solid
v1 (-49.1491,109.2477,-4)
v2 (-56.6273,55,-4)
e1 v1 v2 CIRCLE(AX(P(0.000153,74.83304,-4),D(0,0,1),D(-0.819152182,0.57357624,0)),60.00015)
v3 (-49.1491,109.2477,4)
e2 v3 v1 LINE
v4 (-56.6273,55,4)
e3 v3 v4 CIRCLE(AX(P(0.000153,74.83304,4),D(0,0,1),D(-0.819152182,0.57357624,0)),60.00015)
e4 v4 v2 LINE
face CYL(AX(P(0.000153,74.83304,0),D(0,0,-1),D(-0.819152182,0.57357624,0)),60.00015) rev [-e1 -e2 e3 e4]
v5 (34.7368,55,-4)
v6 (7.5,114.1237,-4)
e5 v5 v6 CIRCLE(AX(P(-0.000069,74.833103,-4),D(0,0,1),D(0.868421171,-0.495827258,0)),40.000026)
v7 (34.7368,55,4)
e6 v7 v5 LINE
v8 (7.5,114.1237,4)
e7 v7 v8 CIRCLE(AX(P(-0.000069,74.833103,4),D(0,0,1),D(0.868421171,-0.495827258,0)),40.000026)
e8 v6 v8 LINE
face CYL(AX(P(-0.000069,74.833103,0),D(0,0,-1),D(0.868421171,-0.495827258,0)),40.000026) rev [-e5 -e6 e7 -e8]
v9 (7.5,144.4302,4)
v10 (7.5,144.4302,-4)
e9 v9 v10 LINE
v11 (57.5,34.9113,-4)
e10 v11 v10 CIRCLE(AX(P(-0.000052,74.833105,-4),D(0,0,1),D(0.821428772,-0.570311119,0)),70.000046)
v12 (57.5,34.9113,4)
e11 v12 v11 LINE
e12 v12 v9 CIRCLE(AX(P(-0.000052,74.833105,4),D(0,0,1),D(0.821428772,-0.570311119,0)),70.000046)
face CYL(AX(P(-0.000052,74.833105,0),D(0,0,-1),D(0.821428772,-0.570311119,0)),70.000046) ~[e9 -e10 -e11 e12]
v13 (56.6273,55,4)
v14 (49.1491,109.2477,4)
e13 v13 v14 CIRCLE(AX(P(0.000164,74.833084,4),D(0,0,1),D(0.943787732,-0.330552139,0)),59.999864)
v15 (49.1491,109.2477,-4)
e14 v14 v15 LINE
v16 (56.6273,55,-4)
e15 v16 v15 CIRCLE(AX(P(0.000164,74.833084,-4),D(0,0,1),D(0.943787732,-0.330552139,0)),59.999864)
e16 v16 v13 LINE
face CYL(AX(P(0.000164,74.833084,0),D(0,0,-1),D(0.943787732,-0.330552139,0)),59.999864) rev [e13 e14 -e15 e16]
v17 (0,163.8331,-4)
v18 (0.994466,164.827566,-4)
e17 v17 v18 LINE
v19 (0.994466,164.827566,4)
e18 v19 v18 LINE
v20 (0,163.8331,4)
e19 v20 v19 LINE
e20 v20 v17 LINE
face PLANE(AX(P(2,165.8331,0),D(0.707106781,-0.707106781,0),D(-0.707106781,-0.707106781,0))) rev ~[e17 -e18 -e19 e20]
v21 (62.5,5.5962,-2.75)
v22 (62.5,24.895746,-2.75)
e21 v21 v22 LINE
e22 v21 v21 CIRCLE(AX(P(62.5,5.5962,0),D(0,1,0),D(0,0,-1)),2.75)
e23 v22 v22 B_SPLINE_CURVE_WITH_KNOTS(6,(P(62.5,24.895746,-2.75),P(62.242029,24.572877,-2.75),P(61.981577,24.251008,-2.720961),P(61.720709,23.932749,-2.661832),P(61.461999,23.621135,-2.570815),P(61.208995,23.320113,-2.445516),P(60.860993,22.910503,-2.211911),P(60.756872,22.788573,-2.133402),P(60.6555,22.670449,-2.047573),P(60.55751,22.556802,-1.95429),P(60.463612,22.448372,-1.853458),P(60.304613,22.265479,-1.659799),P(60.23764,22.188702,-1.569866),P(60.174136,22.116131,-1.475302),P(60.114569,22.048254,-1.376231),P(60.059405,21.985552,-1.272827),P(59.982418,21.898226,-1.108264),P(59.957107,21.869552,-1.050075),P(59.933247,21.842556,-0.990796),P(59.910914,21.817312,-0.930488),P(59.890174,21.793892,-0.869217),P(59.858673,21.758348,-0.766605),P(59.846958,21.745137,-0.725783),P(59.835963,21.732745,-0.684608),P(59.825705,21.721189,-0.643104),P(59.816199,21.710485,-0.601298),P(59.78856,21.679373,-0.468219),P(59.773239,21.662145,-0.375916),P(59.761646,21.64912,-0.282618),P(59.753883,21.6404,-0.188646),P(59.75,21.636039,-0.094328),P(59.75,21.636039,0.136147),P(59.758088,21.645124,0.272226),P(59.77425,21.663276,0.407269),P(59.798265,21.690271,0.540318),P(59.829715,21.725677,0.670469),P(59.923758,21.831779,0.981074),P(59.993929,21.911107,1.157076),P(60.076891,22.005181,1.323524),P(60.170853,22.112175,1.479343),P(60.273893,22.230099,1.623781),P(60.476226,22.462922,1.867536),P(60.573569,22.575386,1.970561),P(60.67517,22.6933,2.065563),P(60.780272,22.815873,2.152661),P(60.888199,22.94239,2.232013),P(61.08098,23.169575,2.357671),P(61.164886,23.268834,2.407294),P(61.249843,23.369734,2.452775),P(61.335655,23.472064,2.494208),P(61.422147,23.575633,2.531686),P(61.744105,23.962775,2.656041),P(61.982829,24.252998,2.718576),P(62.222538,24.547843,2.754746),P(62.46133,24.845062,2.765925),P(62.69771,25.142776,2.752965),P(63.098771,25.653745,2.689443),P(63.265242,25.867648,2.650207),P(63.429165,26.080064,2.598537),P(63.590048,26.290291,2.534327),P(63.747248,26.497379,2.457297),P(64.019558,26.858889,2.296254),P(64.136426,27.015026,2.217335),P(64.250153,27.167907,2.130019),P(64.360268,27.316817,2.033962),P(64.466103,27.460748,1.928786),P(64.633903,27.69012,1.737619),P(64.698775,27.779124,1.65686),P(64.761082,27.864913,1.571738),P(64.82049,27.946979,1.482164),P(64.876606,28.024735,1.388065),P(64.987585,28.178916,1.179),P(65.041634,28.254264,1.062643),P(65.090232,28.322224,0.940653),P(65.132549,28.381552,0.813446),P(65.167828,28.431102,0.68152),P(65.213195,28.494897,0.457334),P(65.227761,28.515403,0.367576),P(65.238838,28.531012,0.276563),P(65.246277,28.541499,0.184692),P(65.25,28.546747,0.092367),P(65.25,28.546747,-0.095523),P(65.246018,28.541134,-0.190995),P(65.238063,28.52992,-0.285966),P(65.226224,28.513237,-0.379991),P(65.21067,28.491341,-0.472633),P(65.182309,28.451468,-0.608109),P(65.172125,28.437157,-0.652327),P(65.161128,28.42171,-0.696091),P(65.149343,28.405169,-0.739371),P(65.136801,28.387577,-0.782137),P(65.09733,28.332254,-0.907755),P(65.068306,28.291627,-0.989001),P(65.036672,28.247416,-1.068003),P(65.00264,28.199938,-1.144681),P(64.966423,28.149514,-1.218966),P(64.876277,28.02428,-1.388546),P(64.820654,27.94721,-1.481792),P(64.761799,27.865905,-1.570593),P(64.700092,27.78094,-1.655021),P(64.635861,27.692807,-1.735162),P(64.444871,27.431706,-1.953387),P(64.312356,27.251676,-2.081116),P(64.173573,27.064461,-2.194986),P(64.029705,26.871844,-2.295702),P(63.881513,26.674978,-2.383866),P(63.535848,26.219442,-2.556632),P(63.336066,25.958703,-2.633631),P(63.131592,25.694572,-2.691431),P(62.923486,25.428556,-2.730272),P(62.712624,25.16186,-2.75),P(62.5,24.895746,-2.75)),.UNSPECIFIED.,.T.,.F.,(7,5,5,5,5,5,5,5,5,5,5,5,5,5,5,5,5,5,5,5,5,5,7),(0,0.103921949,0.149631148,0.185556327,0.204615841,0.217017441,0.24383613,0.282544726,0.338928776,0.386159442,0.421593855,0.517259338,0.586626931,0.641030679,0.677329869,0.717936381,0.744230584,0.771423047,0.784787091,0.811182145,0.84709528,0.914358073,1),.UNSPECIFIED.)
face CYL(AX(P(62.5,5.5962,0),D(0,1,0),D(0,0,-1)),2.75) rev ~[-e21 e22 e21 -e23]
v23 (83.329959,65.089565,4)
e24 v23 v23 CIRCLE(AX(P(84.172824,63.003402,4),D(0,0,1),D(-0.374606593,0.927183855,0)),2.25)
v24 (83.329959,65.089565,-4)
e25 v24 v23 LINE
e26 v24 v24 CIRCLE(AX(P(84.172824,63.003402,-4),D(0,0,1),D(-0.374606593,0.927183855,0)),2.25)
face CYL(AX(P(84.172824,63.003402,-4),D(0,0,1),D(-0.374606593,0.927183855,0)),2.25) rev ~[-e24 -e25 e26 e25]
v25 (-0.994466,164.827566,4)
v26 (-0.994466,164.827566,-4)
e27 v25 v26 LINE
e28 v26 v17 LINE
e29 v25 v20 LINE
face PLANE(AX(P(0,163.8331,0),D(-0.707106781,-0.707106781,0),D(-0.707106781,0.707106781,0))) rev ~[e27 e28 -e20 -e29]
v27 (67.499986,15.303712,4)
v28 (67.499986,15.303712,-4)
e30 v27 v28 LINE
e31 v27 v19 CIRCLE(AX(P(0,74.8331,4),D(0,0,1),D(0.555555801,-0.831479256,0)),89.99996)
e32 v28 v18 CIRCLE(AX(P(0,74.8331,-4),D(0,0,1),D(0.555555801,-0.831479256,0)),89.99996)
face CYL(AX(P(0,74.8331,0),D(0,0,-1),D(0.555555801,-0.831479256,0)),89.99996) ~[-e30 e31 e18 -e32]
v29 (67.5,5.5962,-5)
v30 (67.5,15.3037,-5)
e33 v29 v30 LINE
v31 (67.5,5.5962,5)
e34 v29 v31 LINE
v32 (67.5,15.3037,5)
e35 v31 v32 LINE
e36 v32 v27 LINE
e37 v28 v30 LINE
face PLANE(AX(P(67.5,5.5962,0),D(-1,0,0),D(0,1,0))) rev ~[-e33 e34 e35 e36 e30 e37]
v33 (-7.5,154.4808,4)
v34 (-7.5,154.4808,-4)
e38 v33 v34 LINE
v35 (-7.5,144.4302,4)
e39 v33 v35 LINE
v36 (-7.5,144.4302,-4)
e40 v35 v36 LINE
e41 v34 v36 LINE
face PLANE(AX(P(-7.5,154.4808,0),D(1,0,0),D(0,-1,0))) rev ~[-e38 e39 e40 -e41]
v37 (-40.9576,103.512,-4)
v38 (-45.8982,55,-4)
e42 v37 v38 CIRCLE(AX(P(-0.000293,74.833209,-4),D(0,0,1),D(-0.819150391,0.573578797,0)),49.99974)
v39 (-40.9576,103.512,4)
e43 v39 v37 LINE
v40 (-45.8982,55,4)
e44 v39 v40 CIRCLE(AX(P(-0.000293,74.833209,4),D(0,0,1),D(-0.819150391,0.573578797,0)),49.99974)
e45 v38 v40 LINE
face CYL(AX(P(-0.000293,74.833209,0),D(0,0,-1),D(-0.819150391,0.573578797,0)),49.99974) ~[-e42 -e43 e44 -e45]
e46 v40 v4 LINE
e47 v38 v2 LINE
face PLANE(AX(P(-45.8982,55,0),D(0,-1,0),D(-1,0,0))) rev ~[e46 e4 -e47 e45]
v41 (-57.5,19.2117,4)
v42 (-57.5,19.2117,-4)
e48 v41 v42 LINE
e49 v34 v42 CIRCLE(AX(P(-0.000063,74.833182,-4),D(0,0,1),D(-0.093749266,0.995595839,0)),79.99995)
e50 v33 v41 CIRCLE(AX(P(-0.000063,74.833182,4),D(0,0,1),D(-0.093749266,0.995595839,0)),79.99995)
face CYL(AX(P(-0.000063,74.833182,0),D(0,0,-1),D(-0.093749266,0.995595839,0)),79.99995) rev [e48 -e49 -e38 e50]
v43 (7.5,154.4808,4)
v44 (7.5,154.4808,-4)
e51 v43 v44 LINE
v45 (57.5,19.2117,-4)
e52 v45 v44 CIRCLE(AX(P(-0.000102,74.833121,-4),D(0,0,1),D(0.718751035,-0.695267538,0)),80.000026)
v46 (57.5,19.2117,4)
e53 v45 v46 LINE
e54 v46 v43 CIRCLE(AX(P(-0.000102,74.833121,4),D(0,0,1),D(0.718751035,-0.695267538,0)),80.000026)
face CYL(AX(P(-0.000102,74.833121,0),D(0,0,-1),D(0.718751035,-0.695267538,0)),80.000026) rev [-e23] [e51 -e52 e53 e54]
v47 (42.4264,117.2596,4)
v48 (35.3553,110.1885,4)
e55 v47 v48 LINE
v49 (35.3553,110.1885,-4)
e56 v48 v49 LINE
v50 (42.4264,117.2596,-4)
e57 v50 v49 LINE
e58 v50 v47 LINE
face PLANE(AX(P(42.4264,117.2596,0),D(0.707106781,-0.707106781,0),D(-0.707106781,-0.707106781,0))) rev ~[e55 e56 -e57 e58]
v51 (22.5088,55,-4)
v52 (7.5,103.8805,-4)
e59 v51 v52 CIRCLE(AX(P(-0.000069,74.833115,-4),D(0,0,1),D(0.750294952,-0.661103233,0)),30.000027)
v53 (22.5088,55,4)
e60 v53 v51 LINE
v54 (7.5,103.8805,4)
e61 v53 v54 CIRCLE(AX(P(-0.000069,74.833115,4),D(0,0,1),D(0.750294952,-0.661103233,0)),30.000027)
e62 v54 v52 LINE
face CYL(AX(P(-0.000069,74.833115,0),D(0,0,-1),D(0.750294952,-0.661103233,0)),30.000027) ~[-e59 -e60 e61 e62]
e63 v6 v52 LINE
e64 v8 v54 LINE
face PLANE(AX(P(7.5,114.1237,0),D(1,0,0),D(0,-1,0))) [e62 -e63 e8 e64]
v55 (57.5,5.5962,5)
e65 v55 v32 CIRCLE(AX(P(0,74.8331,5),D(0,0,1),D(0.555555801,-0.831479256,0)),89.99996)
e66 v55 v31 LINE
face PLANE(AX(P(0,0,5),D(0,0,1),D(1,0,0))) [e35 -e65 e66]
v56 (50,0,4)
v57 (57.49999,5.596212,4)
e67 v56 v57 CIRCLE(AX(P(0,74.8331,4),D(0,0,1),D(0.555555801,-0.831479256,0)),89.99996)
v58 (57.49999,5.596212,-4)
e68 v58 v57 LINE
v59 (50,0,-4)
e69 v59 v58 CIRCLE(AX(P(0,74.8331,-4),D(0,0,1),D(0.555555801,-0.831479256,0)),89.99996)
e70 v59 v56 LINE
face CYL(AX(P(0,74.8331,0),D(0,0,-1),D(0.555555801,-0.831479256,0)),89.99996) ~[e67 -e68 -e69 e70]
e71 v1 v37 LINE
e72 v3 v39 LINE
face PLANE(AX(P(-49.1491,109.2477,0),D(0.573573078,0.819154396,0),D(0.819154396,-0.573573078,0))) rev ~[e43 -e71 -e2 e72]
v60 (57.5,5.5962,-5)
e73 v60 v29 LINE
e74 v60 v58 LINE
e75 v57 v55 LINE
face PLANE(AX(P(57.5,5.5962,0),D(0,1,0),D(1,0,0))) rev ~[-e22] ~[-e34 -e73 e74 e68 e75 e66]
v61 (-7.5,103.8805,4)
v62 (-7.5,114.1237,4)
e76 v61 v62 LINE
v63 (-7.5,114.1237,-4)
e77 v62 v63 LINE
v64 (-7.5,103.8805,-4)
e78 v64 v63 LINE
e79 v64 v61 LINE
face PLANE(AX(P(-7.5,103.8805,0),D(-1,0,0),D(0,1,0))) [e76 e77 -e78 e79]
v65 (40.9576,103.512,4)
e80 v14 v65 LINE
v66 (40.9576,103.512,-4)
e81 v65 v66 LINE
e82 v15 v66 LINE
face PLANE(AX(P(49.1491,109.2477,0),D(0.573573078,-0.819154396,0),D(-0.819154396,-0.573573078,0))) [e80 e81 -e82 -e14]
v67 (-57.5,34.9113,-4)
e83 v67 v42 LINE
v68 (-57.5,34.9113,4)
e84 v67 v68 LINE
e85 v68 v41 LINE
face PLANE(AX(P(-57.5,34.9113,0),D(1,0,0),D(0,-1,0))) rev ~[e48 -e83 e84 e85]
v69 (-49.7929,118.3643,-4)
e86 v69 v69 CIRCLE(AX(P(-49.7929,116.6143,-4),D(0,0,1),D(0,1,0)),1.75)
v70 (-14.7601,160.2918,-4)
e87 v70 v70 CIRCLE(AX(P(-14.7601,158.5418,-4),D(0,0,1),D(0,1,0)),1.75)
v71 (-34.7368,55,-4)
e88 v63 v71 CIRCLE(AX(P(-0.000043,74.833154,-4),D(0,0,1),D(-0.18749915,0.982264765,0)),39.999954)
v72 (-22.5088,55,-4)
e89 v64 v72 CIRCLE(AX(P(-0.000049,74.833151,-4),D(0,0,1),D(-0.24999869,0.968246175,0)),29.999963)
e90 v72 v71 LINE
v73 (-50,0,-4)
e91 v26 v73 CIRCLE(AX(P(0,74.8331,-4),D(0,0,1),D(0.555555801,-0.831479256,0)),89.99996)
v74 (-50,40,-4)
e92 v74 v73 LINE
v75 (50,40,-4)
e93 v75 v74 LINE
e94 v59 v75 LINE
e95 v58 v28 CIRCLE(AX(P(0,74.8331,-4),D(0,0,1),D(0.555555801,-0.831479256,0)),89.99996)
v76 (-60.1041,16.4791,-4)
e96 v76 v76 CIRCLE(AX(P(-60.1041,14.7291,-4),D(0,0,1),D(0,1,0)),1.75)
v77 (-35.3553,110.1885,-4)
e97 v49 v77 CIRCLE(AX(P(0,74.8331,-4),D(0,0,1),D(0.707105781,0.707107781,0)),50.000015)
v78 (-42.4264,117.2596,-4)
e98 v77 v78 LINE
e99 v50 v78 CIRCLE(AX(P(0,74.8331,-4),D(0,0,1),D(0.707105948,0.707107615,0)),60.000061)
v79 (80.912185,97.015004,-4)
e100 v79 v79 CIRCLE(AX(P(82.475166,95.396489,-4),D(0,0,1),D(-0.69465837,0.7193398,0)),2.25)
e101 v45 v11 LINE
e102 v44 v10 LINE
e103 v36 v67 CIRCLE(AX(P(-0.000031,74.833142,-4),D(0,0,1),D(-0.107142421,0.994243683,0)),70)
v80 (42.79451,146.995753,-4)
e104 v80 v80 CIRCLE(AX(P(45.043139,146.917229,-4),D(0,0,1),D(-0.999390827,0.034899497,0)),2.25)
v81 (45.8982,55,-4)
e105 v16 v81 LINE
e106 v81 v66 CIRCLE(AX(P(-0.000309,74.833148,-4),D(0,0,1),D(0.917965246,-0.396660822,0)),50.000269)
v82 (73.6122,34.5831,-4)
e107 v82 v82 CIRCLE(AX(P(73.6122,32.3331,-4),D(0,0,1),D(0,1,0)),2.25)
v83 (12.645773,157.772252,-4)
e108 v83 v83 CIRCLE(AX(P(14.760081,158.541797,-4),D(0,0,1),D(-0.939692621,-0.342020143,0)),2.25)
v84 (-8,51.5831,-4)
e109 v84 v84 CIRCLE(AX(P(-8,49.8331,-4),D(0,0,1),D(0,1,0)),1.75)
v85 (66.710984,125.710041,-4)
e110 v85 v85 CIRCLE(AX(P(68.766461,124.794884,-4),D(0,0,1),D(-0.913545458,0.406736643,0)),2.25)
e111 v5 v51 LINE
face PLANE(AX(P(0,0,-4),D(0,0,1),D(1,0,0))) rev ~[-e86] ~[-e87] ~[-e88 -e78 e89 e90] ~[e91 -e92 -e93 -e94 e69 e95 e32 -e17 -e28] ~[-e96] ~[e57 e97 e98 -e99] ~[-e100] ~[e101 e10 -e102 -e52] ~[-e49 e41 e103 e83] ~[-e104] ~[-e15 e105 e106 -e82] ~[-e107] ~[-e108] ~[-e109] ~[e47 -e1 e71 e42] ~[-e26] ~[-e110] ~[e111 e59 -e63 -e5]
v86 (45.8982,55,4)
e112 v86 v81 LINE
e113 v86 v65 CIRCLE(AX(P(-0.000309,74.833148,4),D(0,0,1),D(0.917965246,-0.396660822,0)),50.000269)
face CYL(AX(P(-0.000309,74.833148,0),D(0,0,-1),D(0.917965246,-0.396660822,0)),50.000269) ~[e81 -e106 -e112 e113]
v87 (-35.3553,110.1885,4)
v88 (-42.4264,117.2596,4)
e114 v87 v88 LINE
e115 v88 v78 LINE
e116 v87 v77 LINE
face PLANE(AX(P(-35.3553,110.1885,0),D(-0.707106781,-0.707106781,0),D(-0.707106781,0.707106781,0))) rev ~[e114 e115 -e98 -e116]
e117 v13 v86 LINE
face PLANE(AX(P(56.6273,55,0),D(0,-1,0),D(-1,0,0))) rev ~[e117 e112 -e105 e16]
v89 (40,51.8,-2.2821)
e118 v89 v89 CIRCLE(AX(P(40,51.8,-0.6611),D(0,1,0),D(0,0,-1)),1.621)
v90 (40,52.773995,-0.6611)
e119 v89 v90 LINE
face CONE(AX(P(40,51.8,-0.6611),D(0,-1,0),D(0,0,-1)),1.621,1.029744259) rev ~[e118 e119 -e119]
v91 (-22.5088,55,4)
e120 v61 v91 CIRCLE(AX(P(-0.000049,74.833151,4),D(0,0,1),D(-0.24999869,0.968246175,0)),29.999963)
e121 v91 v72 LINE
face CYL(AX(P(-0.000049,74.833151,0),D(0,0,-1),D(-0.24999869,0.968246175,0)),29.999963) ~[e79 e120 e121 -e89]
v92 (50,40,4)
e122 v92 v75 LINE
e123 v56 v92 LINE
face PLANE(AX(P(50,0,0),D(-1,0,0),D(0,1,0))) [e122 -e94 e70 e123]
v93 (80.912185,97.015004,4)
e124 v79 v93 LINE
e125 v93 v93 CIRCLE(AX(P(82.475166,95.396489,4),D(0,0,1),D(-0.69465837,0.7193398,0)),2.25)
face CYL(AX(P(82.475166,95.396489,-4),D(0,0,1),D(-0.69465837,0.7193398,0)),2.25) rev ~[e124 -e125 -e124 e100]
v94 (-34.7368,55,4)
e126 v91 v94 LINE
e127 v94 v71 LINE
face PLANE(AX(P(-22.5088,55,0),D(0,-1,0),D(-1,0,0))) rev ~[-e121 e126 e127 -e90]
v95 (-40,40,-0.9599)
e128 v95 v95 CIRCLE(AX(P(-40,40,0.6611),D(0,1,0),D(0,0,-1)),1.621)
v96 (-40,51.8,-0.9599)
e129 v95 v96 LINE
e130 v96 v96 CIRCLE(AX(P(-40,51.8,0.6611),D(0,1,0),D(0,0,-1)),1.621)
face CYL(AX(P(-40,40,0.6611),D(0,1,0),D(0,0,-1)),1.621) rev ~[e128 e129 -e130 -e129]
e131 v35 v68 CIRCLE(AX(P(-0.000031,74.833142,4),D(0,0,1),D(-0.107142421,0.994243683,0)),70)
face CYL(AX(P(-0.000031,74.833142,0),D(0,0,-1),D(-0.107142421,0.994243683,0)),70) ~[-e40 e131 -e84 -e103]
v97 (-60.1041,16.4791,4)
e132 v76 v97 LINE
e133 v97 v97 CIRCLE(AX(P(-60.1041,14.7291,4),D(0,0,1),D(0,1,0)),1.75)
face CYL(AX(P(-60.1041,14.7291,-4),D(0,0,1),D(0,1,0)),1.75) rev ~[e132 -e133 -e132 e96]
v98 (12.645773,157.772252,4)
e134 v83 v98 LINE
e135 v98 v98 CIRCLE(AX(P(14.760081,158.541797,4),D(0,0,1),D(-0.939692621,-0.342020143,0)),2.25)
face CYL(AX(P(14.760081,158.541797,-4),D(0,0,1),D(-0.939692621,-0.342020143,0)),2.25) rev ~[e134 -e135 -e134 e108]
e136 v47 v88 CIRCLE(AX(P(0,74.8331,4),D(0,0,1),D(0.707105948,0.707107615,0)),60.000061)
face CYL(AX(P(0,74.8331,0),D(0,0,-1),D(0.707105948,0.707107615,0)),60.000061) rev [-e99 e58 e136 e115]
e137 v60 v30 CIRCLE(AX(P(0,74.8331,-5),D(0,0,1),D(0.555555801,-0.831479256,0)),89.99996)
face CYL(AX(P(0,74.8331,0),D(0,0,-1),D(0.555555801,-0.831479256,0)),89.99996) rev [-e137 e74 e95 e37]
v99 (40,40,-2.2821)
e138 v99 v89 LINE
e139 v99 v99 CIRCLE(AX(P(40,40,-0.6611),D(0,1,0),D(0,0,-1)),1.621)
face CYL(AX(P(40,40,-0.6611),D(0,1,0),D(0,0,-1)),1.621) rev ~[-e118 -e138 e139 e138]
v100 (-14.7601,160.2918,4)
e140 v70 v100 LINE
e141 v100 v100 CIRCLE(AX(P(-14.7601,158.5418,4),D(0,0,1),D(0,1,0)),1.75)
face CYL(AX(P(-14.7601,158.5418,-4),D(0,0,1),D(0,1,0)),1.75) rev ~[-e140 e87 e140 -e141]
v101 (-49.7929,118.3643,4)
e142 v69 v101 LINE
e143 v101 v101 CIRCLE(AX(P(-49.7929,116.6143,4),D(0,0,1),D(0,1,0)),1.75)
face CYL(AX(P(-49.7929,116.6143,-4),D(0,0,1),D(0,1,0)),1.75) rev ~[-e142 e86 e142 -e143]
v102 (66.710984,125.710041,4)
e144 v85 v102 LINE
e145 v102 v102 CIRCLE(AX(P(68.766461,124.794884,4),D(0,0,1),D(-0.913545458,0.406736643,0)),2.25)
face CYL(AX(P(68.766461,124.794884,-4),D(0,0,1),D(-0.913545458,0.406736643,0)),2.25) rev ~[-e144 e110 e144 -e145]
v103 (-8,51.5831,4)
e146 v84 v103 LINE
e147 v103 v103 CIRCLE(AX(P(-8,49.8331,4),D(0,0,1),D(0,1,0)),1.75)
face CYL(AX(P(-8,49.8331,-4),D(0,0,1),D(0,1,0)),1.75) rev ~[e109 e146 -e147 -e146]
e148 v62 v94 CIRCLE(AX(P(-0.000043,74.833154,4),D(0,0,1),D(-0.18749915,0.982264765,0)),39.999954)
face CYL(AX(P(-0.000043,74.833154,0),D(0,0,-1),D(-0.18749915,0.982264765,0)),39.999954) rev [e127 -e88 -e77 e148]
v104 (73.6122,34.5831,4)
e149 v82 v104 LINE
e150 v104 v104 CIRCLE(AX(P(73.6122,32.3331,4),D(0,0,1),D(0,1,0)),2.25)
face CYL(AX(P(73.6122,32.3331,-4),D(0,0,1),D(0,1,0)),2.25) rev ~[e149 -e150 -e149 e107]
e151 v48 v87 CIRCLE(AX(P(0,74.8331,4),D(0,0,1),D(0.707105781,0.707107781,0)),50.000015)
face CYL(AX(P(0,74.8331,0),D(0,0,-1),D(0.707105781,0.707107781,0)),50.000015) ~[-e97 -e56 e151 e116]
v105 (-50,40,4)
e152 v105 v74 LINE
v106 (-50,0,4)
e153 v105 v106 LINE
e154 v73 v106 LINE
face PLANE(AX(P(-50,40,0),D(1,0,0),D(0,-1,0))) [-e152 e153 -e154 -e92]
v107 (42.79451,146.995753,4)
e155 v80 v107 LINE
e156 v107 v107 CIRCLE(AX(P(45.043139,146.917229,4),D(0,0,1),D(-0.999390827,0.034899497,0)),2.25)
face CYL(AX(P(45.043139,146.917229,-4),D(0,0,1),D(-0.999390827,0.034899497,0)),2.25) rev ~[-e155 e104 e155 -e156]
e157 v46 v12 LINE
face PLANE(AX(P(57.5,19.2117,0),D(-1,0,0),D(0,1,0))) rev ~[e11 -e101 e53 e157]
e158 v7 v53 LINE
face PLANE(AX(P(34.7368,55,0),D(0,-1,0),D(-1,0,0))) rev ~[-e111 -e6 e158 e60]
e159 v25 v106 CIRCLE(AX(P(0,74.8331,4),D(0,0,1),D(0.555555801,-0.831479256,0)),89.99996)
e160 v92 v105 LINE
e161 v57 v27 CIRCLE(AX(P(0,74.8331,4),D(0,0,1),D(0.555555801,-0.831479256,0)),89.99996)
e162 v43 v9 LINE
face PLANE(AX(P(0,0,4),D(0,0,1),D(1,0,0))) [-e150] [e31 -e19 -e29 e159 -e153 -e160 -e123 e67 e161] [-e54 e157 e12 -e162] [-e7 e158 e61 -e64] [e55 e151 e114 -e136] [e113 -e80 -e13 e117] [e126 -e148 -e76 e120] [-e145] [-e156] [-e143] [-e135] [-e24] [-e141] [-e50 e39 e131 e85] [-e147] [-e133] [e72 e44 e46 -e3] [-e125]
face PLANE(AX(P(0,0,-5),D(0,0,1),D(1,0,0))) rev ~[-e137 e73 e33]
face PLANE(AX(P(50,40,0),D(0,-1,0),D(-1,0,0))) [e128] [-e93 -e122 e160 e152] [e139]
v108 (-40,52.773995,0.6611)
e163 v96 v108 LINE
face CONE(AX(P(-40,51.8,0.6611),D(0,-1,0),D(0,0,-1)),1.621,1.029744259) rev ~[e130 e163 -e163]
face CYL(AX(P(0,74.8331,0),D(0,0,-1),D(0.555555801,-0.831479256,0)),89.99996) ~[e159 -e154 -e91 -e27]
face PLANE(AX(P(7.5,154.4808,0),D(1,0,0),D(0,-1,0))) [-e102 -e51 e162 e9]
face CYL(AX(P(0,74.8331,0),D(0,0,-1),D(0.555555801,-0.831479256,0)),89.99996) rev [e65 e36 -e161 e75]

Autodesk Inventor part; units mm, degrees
ref_plane "YZ Plane" through (0, 0, 0) normal (1, 0, 0) x (0, 1, 0)
ref_plane "XZ Plane" through (0, 0, 0) normal (0, 1, 0) x (-1, 0, 0)
ref_plane "XY Plane" through (0, 0, 0) normal (0, 0, 1) x (1, 0, 0)
sketch "Sketch2" plane through (0, 0, 0) normal (0, 0, 1) x (1, 0, 0)
  line L0 (-50, 0) -> (50, 0) construction
  line L1 (50, 0) -> (50, 40)
  line L2 (50, 40) -> (-50, 40)
  line L3 (-50, 40) -> (-50, 0)
  arc A0 (50, 0) -> (-50, 0) centre (0, 74.8331) ccw
  line L4 (57.5, 19.2117) -> (57.5, 34.9113)
  line L5 (-57.5, 34.9113) -> (-57.5, 19.2117)
  line L6 (7.5, 154.4808) -> (7.5, 144.4302)
  line L7 (-7.5, 154.4808) -> (-7.5, 144.4302)
  line L8 (7.5, 144.4302) -> (-7.5, 154.4808) construction
  arc A1 (57.5, 34.9113) -> (7.5, 144.4302) centre (0, 74.8331) ccw
  arc A2 (-7.5, 144.4302) -> (-57.5, 34.9113) centre (0, 74.8331) ccw
  arc A3 (57.5, 19.2117) -> (7.5, 154.4808) centre (0, 74.8331) ccw
  arc A4 (-7.5, 154.4808) -> (-57.5, 19.2117) centre (0, 74.8331) ccw
  line L9 (56.6273, 55) -> (45.8982, 55)
  line L10 (-45.8982, 55) -> (-56.6273, 55)
  line L11 (42.4264, 117.2596) -> (35.3553, 110.1885)
  line L12 (-35.3553, 110.1885) -> (-42.4264, 117.2596)
  line L13 (49.1491, 109.2477) -> (40.9576, 103.512)
  line L14 (-49.1491, 109.2477) -> (-40.9576, 103.512)
  arc A5 (-40.9576, 103.512) -> (-45.8982, 55) centre (0, 74.8331) ccw
  arc A6 (-49.1491, 109.2477) -> (-56.6273, 55) centre (0, 74.8331) ccw
  arc A7 (45.8982, 55) -> (40.9576, 103.512) centre (0, 74.8331) ccw
  arc A8 (35.3553, 110.1885) -> (-35.3553, 110.1885) centre (0, 74.8331) ccw
  arc A9 (56.6273, 55) -> (49.1491, 109.2477) centre (0, 74.8331) ccw
  arc A10 (42.4264, 117.2596) -> (-42.4264, 117.2596) centre (0, 74.8331) ccw
  line L15 (7.5, 114.1237) -> (7.5, 103.8805)
  line L16 (-7.5, 103.8805) -> (-7.5, 114.1237)
  line L17 (34.7368, 55) -> (22.5088, 55)
  line L18 (-22.5088, 55) -> (-34.7368, 55)
  arc A11 (-7.5, 103.8805) -> (-22.5088, 55) centre (0, 74.8331) ccw
  arc A12 (22.5088, 55) -> (7.5, 103.8805) centre (0, 74.8331) ccw
  arc A13 (-7.5, 114.1237) -> (-34.7368, 55) centre (0, 74.8331) ccw
  arc A14 (34.7368, 55) -> (7.5, 114.1237) centre (0, 74.8331) ccw
  point P0 (0, 0)
  point P1 (0, 0)
  point P2 (0, 149.4555)
  dimension "d11" = 100
  dimension "d12" = 40
  dimension "d27" = 90
  dimension "d29" = 7.5
  dimension "d30" = 7.5
  dimension "d34" = 10
  dimension "d35" = 10
  dimension "d36" = 10
  dimension "d37" = 10
  dimension "d38" = 15
  dimension "d71" = 15
  dimension "d74" = 10
  dimension "d75" = 10
  dimension "d76" = 45
  dimension "d77" = 45
  dimension "d78" = 10
  dimension "d79" = 10
  dimension "d80" = 10
  dimension "d81" = 10
extrude "Extrusion2" add sketch "Sketch2" along normal mid plane 8
sketch "Sketch6" plane through (0, 0, 0) normal (0, 0, 1) x (1, 0, 0)
  arc A0 (50, 0) -> (-50, 0) centre (0, 74.8331) ccw projected
  line L0 (57.5, 5.5962) -> (67.5, 5.5962)
  line L1 (67.5, 5.5962) -> (67.5, 15.3037)
  point P0 (0, 0)
  point P1 (57.5, 19.2117)
  dimension "d48" = 10
extrude "Extrusion4" add sketch "Sketch6" along normal mid plane 10
sketch "Sketch8" plane through (0, 0, 0) normal (0, 0, 1) x (1, 0, 0)
  arc A0 (50, 0) -> (-50, 0) centre (0, 74.8331) ccw construction
  line L0 (2, 165.8331) -> (0, 163.8331)
  line L1 (0, 163.8331) -> (-2, 165.8331)
  line L2 (-2, 165.8331) -> (2, 165.8331)
  line L3 (0, 165.8331) -> (0, 164.8331) construction
  point P0 (0, 0)
  point P1 (67.5, 15.3037)
  dimension "d67" = 1
  dimension "d68" = 2
extrude "Extrusion5" cut sketch "Sketch8" along normal mid plane 10
sketch "Sketch7" plane through (57.5, 5.5962, 5) normal (0, -1, 0) x (1, 0, 0)
  line L0 (10, 0) -> (10, -10) projected
  line L1 (0, 0) -> (10, 0) projected
  line L2 (10, -10) -> (0, -10) projected
  line L3 (0, 0) -> (10, -10)
  line L4 (0, -9) -> (0, -1) projected
  line L5 (0, -1) -> (0, 0) projected
  line L6 (0, -10) -> (0, -9) projected
  point P0 (-57.5, -5)
  point P1 (5, -5)
hole "Hole2" at (62.5, 5.5962, 0) direction (0, 1, 0) diameter 5.5 depth 25 tip angle 118
sketch "Sketch9" plane through (0, 0, -4) normal (0, 0, -1) x (-1, 0, 0)
  arc A0 (-0.9945, 164.8277) -> (-67.5, 15.3037) centre (0, 74.8331) ccw construction
  line L0 (-73.6122, 32.3331) -> (0, 74.8331) construction
  line L1 (0, 74.8331) -> (0, 98.0248) construction
  point P0 (0, 0)
  dimension "d82" = 85
  dimension "d83" = 120
hole "Hole3" at (73.6122, 32.3331, -4) direction (0, 0, 1) diameter 4.5 depth 10 tip angle 118
pattern_circular "Circular Pattern2" count 6 over 110 about axis through (0, 74.8331, 0) along (0, 0, 1) of "Hole3"
sketch "Sketch10" plane through (-50, 40, 4) normal (0, -1, 0) x (1, 0, 0)
  line L0 (90, -4.6611) -> (50, -4) construction
  line L1 (50, -4) -> (10, -3.3389) construction
  dimension "d94" = 80
hole "Hole4" at (-40, 40, 0.6611) at (40, 40, -0.6611) direction (0, 1, 0) diameter 3.242 depth 11.8 tip angle 118 thread size "M4x0.7" class "6H" standard "ISO Metric profile"
sketch "Sketch11" plane through (0, 0, -4) normal (0, 0, -1) x (-1, 0, 0)
  point P0 (0, 0)
sketch "Sketch12" plane through (0, 0, -4) normal (0, 0, -1) x (-1, 0, 0)
  arc A0 (22.5088, 55) -> (7.5, 103.8805) centre (0, 74.8331) ccw construction
  line L0 (0, 74.8331) -> (12.608, 74.8331) construction
  point P0 (0, 0)
  point P1 (14.7601, 158.5418)
  point P2 (60.1041, 14.7291)
  point P3 (49.7929, 116.6143)
  point P4 (8, 49.8331)
  dimension "d102" = 85
  dimension "d103" = 65
  dimension "d104" = 85
  dimension "d105" = 80
  dimension "d106" = 40
  dimension "d107" = 45
  dimension "d108" = 25
  dimension "d109" = 8
hole "Hole5" at (-14.7601, 158.5418, -4) at (-49.7929, 116.6143, -4) at (-8, 49.8331, -4) at (-60.1041, 14.7291, -4) direction (0, 0, 1) diameter 3.5 depth 11.8 tip angle 118
equation "\"d36\" = d35"
equation "\"d37\" = d34"
properties part number "M02_R01 - Main Spherical Shaft" material "Glass"
